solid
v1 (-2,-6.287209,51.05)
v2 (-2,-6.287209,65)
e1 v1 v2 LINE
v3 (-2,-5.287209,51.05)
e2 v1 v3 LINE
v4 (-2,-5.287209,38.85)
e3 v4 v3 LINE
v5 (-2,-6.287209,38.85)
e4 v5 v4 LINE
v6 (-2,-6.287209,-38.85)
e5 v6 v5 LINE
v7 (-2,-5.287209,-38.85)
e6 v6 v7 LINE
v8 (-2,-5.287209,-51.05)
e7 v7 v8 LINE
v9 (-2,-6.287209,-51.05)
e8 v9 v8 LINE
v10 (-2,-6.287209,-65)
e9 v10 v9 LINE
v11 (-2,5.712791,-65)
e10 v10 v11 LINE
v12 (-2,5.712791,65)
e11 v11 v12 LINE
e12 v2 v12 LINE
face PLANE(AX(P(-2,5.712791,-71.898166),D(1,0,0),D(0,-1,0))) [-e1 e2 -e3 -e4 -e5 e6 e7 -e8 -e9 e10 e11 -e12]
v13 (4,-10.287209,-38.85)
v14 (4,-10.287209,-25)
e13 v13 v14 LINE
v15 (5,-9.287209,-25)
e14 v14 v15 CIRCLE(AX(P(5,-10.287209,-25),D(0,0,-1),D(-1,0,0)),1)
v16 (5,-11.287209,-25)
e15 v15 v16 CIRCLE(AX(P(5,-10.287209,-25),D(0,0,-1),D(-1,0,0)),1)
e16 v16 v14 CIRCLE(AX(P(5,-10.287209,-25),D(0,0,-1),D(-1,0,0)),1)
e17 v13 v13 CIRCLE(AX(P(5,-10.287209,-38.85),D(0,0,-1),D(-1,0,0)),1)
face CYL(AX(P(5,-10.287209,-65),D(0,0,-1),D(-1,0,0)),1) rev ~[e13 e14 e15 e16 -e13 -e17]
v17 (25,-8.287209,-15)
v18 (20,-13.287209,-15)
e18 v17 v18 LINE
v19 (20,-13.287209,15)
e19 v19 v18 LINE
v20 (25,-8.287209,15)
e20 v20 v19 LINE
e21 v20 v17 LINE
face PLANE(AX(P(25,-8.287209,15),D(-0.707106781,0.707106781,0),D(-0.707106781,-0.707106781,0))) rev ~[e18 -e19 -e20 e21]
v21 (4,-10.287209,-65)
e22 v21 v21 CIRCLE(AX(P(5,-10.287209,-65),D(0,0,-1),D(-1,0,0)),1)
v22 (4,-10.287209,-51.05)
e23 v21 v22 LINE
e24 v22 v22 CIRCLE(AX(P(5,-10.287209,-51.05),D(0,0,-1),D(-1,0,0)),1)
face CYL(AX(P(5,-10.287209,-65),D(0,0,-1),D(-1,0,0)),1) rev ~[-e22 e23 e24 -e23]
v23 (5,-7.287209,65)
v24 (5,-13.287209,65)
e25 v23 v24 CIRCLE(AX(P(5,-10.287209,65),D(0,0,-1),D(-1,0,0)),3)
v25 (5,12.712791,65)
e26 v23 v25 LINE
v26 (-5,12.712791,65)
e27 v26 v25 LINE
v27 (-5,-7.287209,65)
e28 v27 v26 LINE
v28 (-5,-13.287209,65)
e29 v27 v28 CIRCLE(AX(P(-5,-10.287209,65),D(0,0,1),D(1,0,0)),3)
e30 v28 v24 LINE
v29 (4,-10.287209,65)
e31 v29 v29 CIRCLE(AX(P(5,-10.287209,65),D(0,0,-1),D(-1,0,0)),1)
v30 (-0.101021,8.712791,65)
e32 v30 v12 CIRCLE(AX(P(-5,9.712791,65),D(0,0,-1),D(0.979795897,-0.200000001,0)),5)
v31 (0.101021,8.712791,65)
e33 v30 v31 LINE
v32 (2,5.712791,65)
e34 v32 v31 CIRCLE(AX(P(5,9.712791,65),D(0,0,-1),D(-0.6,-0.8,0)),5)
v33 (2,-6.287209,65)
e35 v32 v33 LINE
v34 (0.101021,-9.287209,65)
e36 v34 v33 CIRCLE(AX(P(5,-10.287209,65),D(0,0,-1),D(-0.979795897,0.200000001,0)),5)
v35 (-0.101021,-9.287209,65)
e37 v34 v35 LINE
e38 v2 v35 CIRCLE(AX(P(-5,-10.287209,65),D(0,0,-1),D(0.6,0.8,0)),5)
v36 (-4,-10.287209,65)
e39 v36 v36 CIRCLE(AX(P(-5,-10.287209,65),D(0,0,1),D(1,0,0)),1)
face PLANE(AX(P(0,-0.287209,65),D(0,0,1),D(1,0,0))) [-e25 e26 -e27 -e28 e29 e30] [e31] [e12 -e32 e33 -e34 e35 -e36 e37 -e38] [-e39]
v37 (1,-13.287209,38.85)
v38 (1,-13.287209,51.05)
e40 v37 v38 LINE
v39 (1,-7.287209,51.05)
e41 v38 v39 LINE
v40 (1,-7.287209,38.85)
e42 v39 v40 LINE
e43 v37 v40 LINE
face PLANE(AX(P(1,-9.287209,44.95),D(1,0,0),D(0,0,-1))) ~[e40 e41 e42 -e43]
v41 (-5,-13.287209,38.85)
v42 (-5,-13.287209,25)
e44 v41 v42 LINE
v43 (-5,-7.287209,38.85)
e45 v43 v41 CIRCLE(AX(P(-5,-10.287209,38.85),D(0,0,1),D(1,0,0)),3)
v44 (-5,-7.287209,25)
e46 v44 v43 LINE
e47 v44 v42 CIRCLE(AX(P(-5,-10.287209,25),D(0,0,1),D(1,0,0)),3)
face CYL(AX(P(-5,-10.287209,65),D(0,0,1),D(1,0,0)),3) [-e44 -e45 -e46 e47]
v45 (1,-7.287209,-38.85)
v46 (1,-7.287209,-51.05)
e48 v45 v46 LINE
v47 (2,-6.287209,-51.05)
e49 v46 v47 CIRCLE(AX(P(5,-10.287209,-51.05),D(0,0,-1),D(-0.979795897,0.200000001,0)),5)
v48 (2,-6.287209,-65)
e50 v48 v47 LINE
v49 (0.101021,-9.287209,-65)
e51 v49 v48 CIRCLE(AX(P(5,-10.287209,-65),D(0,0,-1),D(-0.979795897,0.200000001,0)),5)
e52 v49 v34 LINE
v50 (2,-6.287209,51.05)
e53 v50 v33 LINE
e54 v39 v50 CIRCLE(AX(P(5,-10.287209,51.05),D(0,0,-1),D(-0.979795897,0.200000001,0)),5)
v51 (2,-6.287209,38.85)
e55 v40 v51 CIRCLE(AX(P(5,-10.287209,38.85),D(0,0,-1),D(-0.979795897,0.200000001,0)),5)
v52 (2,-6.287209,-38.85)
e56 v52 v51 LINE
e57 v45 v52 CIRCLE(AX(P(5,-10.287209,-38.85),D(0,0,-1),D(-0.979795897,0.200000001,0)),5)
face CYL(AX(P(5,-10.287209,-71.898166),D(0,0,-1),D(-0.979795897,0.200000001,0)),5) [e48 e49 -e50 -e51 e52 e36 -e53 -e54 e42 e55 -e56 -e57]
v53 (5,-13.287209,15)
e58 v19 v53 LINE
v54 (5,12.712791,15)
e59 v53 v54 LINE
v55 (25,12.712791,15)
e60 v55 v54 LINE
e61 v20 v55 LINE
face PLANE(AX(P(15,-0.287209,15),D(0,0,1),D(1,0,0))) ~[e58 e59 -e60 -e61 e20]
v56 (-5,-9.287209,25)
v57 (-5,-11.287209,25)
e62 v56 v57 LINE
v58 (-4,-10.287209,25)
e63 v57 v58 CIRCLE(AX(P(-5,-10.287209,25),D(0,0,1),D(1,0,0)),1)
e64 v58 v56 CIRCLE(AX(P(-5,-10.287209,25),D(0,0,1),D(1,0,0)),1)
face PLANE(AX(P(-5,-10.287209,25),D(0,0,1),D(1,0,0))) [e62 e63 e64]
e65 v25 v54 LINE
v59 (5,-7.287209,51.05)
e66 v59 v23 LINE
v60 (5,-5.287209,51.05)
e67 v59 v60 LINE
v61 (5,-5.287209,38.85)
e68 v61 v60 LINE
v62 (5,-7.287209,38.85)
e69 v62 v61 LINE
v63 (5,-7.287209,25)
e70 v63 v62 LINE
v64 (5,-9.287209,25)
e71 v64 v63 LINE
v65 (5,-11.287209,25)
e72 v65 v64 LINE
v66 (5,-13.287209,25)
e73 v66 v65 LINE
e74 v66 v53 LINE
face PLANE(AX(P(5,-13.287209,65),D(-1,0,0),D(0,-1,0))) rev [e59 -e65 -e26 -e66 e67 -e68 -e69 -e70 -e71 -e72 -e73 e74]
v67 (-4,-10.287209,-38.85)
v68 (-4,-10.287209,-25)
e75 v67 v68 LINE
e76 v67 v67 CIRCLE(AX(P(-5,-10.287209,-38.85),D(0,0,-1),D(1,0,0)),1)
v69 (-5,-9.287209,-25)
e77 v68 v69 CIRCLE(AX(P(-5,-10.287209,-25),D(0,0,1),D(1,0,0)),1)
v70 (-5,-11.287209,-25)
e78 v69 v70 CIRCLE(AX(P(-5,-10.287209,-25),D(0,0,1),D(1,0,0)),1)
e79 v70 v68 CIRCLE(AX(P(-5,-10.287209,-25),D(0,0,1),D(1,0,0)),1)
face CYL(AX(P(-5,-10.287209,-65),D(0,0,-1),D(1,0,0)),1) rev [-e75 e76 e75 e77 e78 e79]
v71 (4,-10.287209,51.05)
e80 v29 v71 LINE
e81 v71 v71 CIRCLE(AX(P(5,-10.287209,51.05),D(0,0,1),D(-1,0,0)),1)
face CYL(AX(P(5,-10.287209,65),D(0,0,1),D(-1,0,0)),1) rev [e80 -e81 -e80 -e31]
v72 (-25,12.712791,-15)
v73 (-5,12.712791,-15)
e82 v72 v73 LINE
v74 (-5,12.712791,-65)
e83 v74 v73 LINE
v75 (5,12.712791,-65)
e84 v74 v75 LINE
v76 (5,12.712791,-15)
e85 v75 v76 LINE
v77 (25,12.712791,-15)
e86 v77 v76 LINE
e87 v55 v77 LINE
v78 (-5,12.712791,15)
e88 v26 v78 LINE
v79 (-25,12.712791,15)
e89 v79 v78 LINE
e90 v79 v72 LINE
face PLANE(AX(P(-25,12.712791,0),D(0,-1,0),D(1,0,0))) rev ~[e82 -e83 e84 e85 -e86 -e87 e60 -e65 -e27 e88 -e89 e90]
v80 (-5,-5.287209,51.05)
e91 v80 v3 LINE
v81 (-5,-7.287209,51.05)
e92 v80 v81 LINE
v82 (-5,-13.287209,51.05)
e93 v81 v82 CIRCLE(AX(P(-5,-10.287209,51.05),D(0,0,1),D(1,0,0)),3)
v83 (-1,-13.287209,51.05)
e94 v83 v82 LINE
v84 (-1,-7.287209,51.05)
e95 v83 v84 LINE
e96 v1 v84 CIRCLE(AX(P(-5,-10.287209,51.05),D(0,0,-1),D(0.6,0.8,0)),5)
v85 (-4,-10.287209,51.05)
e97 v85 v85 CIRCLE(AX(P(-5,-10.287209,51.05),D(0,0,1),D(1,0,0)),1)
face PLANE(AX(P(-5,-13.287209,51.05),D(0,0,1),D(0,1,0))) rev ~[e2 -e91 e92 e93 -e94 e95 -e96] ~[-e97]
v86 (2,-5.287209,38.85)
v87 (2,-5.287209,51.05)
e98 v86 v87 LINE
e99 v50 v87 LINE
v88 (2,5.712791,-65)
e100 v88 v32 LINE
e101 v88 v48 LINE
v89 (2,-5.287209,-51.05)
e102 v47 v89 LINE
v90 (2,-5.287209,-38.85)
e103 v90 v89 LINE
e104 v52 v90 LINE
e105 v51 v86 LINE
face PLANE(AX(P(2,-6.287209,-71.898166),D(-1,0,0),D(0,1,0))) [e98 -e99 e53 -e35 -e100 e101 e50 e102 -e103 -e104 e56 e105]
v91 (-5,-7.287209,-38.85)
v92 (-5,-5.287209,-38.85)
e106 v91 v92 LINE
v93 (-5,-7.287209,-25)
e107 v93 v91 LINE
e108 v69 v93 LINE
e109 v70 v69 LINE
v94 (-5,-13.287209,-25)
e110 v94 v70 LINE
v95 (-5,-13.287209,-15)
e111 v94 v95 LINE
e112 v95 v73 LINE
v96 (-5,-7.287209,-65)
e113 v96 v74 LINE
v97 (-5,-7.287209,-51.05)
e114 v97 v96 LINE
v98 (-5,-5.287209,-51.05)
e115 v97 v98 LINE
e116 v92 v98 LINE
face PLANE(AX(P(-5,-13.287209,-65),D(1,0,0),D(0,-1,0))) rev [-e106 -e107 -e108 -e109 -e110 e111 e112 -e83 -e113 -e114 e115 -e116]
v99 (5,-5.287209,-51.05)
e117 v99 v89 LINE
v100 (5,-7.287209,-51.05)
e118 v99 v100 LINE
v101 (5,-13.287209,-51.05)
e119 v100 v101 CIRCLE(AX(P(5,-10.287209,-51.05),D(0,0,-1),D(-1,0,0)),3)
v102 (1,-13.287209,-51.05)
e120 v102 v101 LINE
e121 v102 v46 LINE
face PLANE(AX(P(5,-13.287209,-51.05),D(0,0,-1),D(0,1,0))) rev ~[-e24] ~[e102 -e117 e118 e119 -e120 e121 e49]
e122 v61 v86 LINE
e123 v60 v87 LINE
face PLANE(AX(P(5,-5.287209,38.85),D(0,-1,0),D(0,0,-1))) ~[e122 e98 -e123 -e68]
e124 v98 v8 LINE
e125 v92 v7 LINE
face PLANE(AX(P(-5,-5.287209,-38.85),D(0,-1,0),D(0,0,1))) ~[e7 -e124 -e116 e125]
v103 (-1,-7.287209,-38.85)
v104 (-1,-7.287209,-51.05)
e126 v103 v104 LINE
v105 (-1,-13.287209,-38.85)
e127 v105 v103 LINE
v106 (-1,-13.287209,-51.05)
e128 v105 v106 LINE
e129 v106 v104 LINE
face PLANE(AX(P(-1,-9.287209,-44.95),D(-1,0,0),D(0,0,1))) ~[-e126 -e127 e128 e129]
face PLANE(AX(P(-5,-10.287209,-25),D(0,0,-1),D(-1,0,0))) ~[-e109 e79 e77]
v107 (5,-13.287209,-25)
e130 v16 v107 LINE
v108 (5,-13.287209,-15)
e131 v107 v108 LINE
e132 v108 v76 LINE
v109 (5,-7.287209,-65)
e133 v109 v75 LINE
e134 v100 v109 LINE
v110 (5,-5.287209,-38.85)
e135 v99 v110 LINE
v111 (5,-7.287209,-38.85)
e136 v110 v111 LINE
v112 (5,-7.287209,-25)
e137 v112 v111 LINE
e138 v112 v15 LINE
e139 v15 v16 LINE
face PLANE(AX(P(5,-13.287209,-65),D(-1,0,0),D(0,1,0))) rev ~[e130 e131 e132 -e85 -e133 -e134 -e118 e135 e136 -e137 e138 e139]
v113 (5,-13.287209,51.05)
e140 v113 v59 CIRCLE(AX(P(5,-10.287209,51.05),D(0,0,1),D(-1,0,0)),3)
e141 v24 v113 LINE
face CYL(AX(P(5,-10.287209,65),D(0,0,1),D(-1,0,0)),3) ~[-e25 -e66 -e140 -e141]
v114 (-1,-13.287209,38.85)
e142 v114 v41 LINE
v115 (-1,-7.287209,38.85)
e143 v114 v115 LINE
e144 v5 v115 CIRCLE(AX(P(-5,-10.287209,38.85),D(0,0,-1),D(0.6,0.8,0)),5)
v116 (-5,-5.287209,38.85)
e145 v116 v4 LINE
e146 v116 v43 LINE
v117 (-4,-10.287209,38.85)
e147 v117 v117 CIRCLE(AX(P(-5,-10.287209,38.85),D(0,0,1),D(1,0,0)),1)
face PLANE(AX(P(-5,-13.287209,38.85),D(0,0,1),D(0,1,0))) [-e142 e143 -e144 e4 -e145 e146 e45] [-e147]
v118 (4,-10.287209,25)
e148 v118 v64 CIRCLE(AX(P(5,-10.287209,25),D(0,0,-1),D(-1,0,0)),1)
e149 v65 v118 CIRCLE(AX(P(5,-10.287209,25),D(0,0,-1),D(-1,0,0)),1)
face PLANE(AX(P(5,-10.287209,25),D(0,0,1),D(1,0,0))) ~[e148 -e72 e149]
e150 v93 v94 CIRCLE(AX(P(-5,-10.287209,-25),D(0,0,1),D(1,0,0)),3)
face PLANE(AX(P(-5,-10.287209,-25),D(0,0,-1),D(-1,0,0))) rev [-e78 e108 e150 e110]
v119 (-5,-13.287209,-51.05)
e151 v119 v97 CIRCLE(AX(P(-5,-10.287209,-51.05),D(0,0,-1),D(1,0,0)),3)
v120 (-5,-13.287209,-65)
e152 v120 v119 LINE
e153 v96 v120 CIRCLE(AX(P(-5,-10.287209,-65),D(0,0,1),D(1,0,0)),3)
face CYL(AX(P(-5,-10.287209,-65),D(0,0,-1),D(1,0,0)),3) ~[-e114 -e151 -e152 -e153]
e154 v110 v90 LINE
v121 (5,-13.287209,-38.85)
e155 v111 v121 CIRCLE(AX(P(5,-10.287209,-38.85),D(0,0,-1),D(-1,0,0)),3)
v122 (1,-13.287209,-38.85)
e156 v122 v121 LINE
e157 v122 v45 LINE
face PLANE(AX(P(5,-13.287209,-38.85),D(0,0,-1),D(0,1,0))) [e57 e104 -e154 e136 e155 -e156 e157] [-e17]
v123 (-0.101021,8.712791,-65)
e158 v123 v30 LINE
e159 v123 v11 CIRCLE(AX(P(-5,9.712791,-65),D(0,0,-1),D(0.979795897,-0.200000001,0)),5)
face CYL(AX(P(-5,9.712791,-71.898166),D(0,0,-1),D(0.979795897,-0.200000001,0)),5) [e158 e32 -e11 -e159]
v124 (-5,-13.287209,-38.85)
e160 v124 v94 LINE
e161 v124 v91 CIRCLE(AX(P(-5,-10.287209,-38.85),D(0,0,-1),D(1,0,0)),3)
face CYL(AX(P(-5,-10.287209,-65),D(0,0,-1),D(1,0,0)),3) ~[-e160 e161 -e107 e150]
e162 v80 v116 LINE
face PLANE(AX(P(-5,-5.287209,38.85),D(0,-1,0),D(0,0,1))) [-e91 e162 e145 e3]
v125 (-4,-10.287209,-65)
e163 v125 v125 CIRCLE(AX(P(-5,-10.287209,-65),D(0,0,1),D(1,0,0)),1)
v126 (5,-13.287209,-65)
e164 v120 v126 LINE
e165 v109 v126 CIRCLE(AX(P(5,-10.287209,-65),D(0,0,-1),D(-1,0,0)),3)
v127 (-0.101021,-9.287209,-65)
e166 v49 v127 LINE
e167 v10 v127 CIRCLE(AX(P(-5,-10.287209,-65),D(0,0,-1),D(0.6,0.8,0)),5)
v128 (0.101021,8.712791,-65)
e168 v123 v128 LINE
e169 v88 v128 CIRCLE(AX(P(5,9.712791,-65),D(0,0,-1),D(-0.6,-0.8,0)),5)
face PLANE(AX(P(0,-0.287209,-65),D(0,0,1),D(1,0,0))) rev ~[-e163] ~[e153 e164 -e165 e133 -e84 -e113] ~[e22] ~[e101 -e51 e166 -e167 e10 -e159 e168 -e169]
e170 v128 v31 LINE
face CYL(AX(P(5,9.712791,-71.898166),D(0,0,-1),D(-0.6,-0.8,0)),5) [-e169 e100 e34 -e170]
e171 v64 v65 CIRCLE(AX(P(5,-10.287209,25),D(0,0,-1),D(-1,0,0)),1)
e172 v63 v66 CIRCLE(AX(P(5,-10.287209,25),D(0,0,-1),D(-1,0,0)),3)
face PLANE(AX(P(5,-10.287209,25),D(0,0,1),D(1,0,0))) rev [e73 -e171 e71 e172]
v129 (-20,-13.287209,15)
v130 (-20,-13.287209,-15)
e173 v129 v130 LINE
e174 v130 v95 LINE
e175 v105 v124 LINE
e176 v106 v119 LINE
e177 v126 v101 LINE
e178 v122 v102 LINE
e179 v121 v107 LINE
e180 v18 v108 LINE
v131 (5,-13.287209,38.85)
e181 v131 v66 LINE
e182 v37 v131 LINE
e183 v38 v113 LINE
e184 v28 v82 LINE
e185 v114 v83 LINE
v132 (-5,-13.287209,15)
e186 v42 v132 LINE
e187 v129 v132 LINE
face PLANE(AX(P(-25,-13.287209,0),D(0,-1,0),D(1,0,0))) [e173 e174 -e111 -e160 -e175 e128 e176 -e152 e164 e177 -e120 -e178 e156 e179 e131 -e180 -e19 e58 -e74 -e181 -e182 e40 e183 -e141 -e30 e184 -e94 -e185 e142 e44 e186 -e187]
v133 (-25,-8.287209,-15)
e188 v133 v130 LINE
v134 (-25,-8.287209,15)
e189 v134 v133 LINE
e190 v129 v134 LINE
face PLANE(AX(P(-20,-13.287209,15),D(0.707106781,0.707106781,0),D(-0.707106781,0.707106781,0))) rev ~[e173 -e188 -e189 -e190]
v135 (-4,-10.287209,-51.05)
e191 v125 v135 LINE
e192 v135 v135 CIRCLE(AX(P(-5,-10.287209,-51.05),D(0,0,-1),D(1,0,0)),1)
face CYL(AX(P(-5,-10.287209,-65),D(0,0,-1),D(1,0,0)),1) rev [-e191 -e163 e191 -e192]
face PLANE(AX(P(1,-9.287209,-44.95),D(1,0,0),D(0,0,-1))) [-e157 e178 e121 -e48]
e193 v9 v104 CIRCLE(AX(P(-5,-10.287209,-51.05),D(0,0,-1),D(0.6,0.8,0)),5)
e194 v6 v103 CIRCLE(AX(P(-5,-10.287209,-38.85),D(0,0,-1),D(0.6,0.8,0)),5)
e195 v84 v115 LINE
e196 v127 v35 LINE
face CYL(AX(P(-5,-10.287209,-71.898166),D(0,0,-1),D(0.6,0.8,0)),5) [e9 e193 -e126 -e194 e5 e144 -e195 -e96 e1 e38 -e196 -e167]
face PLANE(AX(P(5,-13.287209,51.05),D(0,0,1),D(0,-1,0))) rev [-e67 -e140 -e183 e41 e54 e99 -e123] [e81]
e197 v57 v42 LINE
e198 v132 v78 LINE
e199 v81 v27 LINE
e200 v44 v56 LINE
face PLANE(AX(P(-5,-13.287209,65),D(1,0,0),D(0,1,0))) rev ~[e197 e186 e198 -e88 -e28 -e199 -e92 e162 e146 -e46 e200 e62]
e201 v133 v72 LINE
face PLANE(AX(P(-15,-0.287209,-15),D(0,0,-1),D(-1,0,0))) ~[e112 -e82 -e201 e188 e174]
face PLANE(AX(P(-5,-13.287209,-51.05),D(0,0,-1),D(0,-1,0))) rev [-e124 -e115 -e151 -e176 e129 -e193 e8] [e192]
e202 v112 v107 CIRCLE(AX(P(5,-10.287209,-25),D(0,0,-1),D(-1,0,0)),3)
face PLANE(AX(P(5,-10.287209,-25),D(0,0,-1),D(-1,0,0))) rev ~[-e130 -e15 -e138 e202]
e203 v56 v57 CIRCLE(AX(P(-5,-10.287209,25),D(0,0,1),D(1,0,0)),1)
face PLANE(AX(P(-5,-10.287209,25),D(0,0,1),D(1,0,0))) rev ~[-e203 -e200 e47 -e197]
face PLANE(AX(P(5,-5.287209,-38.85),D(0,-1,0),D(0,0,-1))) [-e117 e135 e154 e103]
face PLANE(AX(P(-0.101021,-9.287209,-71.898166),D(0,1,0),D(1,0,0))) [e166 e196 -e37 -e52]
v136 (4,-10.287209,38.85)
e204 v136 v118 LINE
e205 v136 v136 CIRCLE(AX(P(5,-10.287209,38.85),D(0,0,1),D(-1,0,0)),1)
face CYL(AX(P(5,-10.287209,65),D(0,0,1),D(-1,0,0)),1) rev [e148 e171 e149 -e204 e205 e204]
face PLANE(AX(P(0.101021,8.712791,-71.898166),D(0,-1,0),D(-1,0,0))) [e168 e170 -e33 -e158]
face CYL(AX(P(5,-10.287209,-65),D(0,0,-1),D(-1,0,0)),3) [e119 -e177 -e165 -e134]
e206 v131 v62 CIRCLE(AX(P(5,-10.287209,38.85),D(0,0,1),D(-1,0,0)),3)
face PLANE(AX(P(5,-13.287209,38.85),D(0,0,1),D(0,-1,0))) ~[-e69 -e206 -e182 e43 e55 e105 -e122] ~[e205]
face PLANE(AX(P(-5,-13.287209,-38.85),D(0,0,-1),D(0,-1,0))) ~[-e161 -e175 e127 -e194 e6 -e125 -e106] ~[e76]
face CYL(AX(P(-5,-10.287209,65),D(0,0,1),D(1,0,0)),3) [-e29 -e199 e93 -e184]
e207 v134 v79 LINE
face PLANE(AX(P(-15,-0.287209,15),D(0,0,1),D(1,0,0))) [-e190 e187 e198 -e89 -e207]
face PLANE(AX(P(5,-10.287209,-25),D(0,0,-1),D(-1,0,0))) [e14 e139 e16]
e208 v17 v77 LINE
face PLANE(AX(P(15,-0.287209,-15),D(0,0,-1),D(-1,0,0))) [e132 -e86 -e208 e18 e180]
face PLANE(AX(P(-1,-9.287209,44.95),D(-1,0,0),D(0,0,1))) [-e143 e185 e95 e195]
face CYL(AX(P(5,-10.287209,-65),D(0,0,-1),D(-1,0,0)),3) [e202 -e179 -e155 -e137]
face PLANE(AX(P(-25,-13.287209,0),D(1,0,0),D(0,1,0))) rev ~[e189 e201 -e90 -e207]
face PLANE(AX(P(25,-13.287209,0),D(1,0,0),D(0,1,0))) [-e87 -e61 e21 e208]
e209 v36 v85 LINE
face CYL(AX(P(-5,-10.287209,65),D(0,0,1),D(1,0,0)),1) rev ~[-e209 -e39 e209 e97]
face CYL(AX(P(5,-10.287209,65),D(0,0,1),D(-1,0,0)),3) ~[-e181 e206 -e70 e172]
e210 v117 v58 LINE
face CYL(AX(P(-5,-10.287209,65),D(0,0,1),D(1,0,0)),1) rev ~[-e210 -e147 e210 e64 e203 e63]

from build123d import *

# Parameters (mm, degrees)
SKETCH_1_W               = 50
SKETCH_1_H               = 26
EXTRUDE_1_DEPTH          = 65
SKETCH_7_W               = 20
SKETCH_7_H               = 26
CUT_EXTRUDE_5_DEPTH      = 50
SKETCH_4_R               = 3
EXTRUDE_3_DEPTH          = 40
SKETCH_5_W               = 12.2
SKETCH_5_H               = 8
CUT_EXTRUDE_3_DEPTH      = 4
SKETCH_6_R               = 1
CUT_EXTRUDE_4_DEPTH      = 40
MIRROR_2_COPY_1_SKETCH_W = 20
MIRROR_2_COPY_1_SKETCH_H = 26
MIRROR_2_COPY_1_DEPTH    = 50
MIRROR_2_COPY_2_SKETCH_R = 3
MIRROR_2_COPY_2_DEPTH    = 40
MIRROR_2_COPY_3_SKETCH_W = 12.2
MIRROR_2_COPY_3_SKETCH_H = 8
MIRROR_2_COPY_3_DEPTH    = 4
MIRROR_2_COPY_4_SKETCH_R = 1
MIRROR_2_COPY_4_DEPTH    = 40
CUT_EXTRUDE_7_DEPTH      = 71.89816586
CUT_EXTRUDE_7_DEPTH_BACK = 71.89816586
CUT_EXTRUDE_8_REACH      = 86.862


with BuildPart() as part:
    # Эскиз1 → Бобышка-Вытянуть1 (new, symmetric)
    with BuildSketch(Plane.XY):
        with Locations((0, -0.287208972)):
            Rectangle(SKETCH_1_W, SKETCH_1_H)
    extrude(amount=EXTRUDE_1_DEPTH, both=True)

    # Эскиз7 → Вырез-Вытянуть5 (cut)
    with BuildSketch(Plane.XY.offset(65)):
        with Locations((-15, -0.287208972)):
            Rectangle(SKETCH_7_W, SKETCH_7_H)
    cut_extrude_5 = extrude(amount=-CUT_EXTRUDE_5_DEPTH, mode=Mode.SUBTRACT)

    # Эскиз4 → Бобышка-Вытянуть3 (add)
    with BuildSketch(Plane.XY.offset(65)):
        with Locations((-5, -10.287208972)):
            Circle(SKETCH_4_R)
    extrude_3 = extrude(amount=-EXTRUDE_3_DEPTH)

    # Эскиз5 → Вырез-Вытянуть3 (cut, symmetric)
    with BuildSketch(Plane.ZY.offset(5)):
        with Locations((44.95, -9.287208972)):
            Rectangle(SKETCH_5_W, SKETCH_5_H)
    cut_extrude_3 = extrude(amount=CUT_EXTRUDE_3_DEPTH, both=True, mode=Mode.SUBTRACT)

    # Эскиз6 → Вырез-Вытянуть4 (cut)
    with BuildSketch(Plane.XY.offset(65)):
        with Locations((-5, -10.287208972)):
            Circle(SKETCH_6_R)
    cut_extrude_4 = extrude(amount=-CUT_EXTRUDE_4_DEPTH, mode=Mode.SUBTRACT)

    # Зеркальное отражение1: Вырез-Вытянуть5, Бобышка-Вытянуть3, Вырез-Вытянуть3, Вырез-Вытянуть4 across plane
    add(cut_extrude_5.mirror(Plane.XY), mode=Mode.SUBTRACT)
    add(extrude_3.mirror(Plane.XY))
    add(cut_extrude_3.mirror(Plane.XY), mode=Mode.SUBTRACT)
    add(cut_extrude_4.mirror(Plane.XY), mode=Mode.SUBTRACT)

    # Зеркальное отражение2: Вырез-Вытянуть5, Бобышка-Вытянуть3, Вырез-Вытянуть3, Вырез-Вытянуть4 across plane
    add(cut_extrude_5.mirror(Plane(origin=(0, 0, 0), x_dir=(0, 0, 1), z_dir=(1, 0, 0))), mode=Mode.SUBTRACT)
    add(extrude_3.mirror(Plane(origin=(0, 0, 0), x_dir=(0, 0, 1), z_dir=(1, 0, 0))))
    add(cut_extrude_3.mirror(Plane(origin=(0, 0, 0), x_dir=(0, 0, 1), z_dir=(1, 0, 0))), mode=Mode.SUBTRACT)
    add(cut_extrude_4.mirror(Plane(origin=(0, 0, 0), x_dir=(0, 0, 1), z_dir=(1, 0, 0))), mode=Mode.SUBTRACT)

    # Зеркальное отражение2 copy 1 sketch → Зеркальное отражение2 copy 1 (cut)
    with BuildSketch(Plane(origin=(0, 0, -65), x_dir=(-1, 0, 0), z_dir=(0, 0, -1))):
        with Locations((-15, -0.287208972)):
            Rectangle(MIRROR_2_COPY_1_SKETCH_W, MIRROR_2_COPY_1_SKETCH_H)
    extrude(amount=-MIRROR_2_COPY_1_DEPTH, mode=Mode.SUBTRACT)

    # Зеркальное отражение2 copy 2 sketch → Зеркальное отражение2 copy 2 (add)
    with BuildSketch(Plane(origin=(0, 0, -65), x_dir=(-1, 0, 0), z_dir=(0, 0, -1))):
        with Locations((-5, -10.287208972)):
            Circle(MIRROR_2_COPY_2_SKETCH_R)
    extrude(amount=-MIRROR_2_COPY_2_DEPTH)

    # Зеркальное отражение2 copy 3 sketch → Зеркальное отражение2 copy 3 (cut, symmetric)
    with BuildSketch(Plane(origin=(5, 0, 0), x_dir=(0, 0, -1), z_dir=(1, 0, 0))):
        with Locations((44.95, -9.287208972)):
            Rectangle(MIRROR_2_COPY_3_SKETCH_W, MIRROR_2_COPY_3_SKETCH_H)
    extrude(amount=MIRROR_2_COPY_3_DEPTH, both=True, mode=Mode.SUBTRACT)

    # Зеркальное отражение2 copy 4 sketch → Зеркальное отражение2 copy 4 (cut)
    with BuildSketch(Plane(origin=(0, 0, -65), x_dir=(-1, 0, 0), z_dir=(0, 0, -1))):
        with Locations((-5, -10.287208972)):
            Circle(MIRROR_2_COPY_4_SKETCH_R)
    extrude(amount=-MIRROR_2_COPY_4_DEPTH, mode=Mode.SUBTRACT)

    # Эскиз9 → Вырез-Вытянуть7 (cut, two sides: drawn at the far end of the back side and taken through both)
    with BuildSketch(Plane.XY.offset(-CUT_EXTRUDE_7_DEPTH_BACK)):
        with BuildLine():
            Line((0, -9.287208972), (0, 8.712791028))
            Line((0, 8.712791028), (-0.101020514, 8.712791028))
            ThreePointArc((-0.101020514, 8.712791028), (-0.775255129, 7.038556414), (-2, 5.712791028))
            Line((-2, 5.712791028), (-2, -6.287208972))
            ThreePointArc((-2, -6.287208972), (-0.775255129, -7.612974358), (-0.101020514, -9.287208972))
            Line((-0.101020514, -9.287208972), (0, -9.287208972))
        make_face()
        with BuildLine():
            Line((0.101020514, 8.712791028), (0, 8.712791028))
            Line((0, 8.712791028), (0, -9.287208972))
            Line((0, -9.287208972), (0.101020514, -9.287208972))
            ThreePointArc((0.101020514, -9.287208972), (0.775255129, -7.612974358), (2, -6.287208972))
            Line((2, -6.287208972), (2, 5.712791028))
            ThreePointArc((2, 5.712791028), (0.775255129, 7.038556414), (0.101020514, 8.712791028))
        make_face()
    extrude(amount=CUT_EXTRUDE_7_DEPTH + CUT_EXTRUDE_7_DEPTH_BACK, mode=Mode.SUBTRACT)

    # Эскиз10 → Вырез-Вытянуть8 (cut, up to next)
    with BuildSketch(Plane.XY.offset(15), mode=Mode.PRIVATE) as cut_extrude_8_sk1:
        Polygon((-20, -13.287208972), (-25, -8.287208972), (-25, -13.287208972), align=None)
    cut_extrude_8_tool1 = extrude(cut_extrude_8_sk1.sketch, amount=-CUT_EXTRUDE_8_REACH, mode=Mode.PRIVATE) & part.part
    # Эскиз10 → Вырез-Вытянуть8 (cut, up to next)
    with BuildSketch(Plane.XY.offset(15), mode=Mode.PRIVATE) as cut_extrude_8_sk2:
        Polygon((20, -13.287208972), (25, -13.287208972), (25, -8.287208972), align=None)
    cut_extrude_8_tool2 = extrude(cut_extrude_8_sk2.sketch, amount=-CUT_EXTRUDE_8_REACH, mode=Mode.PRIVATE) & part.part
    add(cut_extrude_8_tool1.solids().sort_by_distance((-23.333333, -11.620542, 15))[0], mode=Mode.SUBTRACT)
    add(cut_extrude_8_tool2.solids().sort_by_distance((23.333333, -11.620542, 15))[0], mode=Mode.SUBTRACT)


solid = part.part
